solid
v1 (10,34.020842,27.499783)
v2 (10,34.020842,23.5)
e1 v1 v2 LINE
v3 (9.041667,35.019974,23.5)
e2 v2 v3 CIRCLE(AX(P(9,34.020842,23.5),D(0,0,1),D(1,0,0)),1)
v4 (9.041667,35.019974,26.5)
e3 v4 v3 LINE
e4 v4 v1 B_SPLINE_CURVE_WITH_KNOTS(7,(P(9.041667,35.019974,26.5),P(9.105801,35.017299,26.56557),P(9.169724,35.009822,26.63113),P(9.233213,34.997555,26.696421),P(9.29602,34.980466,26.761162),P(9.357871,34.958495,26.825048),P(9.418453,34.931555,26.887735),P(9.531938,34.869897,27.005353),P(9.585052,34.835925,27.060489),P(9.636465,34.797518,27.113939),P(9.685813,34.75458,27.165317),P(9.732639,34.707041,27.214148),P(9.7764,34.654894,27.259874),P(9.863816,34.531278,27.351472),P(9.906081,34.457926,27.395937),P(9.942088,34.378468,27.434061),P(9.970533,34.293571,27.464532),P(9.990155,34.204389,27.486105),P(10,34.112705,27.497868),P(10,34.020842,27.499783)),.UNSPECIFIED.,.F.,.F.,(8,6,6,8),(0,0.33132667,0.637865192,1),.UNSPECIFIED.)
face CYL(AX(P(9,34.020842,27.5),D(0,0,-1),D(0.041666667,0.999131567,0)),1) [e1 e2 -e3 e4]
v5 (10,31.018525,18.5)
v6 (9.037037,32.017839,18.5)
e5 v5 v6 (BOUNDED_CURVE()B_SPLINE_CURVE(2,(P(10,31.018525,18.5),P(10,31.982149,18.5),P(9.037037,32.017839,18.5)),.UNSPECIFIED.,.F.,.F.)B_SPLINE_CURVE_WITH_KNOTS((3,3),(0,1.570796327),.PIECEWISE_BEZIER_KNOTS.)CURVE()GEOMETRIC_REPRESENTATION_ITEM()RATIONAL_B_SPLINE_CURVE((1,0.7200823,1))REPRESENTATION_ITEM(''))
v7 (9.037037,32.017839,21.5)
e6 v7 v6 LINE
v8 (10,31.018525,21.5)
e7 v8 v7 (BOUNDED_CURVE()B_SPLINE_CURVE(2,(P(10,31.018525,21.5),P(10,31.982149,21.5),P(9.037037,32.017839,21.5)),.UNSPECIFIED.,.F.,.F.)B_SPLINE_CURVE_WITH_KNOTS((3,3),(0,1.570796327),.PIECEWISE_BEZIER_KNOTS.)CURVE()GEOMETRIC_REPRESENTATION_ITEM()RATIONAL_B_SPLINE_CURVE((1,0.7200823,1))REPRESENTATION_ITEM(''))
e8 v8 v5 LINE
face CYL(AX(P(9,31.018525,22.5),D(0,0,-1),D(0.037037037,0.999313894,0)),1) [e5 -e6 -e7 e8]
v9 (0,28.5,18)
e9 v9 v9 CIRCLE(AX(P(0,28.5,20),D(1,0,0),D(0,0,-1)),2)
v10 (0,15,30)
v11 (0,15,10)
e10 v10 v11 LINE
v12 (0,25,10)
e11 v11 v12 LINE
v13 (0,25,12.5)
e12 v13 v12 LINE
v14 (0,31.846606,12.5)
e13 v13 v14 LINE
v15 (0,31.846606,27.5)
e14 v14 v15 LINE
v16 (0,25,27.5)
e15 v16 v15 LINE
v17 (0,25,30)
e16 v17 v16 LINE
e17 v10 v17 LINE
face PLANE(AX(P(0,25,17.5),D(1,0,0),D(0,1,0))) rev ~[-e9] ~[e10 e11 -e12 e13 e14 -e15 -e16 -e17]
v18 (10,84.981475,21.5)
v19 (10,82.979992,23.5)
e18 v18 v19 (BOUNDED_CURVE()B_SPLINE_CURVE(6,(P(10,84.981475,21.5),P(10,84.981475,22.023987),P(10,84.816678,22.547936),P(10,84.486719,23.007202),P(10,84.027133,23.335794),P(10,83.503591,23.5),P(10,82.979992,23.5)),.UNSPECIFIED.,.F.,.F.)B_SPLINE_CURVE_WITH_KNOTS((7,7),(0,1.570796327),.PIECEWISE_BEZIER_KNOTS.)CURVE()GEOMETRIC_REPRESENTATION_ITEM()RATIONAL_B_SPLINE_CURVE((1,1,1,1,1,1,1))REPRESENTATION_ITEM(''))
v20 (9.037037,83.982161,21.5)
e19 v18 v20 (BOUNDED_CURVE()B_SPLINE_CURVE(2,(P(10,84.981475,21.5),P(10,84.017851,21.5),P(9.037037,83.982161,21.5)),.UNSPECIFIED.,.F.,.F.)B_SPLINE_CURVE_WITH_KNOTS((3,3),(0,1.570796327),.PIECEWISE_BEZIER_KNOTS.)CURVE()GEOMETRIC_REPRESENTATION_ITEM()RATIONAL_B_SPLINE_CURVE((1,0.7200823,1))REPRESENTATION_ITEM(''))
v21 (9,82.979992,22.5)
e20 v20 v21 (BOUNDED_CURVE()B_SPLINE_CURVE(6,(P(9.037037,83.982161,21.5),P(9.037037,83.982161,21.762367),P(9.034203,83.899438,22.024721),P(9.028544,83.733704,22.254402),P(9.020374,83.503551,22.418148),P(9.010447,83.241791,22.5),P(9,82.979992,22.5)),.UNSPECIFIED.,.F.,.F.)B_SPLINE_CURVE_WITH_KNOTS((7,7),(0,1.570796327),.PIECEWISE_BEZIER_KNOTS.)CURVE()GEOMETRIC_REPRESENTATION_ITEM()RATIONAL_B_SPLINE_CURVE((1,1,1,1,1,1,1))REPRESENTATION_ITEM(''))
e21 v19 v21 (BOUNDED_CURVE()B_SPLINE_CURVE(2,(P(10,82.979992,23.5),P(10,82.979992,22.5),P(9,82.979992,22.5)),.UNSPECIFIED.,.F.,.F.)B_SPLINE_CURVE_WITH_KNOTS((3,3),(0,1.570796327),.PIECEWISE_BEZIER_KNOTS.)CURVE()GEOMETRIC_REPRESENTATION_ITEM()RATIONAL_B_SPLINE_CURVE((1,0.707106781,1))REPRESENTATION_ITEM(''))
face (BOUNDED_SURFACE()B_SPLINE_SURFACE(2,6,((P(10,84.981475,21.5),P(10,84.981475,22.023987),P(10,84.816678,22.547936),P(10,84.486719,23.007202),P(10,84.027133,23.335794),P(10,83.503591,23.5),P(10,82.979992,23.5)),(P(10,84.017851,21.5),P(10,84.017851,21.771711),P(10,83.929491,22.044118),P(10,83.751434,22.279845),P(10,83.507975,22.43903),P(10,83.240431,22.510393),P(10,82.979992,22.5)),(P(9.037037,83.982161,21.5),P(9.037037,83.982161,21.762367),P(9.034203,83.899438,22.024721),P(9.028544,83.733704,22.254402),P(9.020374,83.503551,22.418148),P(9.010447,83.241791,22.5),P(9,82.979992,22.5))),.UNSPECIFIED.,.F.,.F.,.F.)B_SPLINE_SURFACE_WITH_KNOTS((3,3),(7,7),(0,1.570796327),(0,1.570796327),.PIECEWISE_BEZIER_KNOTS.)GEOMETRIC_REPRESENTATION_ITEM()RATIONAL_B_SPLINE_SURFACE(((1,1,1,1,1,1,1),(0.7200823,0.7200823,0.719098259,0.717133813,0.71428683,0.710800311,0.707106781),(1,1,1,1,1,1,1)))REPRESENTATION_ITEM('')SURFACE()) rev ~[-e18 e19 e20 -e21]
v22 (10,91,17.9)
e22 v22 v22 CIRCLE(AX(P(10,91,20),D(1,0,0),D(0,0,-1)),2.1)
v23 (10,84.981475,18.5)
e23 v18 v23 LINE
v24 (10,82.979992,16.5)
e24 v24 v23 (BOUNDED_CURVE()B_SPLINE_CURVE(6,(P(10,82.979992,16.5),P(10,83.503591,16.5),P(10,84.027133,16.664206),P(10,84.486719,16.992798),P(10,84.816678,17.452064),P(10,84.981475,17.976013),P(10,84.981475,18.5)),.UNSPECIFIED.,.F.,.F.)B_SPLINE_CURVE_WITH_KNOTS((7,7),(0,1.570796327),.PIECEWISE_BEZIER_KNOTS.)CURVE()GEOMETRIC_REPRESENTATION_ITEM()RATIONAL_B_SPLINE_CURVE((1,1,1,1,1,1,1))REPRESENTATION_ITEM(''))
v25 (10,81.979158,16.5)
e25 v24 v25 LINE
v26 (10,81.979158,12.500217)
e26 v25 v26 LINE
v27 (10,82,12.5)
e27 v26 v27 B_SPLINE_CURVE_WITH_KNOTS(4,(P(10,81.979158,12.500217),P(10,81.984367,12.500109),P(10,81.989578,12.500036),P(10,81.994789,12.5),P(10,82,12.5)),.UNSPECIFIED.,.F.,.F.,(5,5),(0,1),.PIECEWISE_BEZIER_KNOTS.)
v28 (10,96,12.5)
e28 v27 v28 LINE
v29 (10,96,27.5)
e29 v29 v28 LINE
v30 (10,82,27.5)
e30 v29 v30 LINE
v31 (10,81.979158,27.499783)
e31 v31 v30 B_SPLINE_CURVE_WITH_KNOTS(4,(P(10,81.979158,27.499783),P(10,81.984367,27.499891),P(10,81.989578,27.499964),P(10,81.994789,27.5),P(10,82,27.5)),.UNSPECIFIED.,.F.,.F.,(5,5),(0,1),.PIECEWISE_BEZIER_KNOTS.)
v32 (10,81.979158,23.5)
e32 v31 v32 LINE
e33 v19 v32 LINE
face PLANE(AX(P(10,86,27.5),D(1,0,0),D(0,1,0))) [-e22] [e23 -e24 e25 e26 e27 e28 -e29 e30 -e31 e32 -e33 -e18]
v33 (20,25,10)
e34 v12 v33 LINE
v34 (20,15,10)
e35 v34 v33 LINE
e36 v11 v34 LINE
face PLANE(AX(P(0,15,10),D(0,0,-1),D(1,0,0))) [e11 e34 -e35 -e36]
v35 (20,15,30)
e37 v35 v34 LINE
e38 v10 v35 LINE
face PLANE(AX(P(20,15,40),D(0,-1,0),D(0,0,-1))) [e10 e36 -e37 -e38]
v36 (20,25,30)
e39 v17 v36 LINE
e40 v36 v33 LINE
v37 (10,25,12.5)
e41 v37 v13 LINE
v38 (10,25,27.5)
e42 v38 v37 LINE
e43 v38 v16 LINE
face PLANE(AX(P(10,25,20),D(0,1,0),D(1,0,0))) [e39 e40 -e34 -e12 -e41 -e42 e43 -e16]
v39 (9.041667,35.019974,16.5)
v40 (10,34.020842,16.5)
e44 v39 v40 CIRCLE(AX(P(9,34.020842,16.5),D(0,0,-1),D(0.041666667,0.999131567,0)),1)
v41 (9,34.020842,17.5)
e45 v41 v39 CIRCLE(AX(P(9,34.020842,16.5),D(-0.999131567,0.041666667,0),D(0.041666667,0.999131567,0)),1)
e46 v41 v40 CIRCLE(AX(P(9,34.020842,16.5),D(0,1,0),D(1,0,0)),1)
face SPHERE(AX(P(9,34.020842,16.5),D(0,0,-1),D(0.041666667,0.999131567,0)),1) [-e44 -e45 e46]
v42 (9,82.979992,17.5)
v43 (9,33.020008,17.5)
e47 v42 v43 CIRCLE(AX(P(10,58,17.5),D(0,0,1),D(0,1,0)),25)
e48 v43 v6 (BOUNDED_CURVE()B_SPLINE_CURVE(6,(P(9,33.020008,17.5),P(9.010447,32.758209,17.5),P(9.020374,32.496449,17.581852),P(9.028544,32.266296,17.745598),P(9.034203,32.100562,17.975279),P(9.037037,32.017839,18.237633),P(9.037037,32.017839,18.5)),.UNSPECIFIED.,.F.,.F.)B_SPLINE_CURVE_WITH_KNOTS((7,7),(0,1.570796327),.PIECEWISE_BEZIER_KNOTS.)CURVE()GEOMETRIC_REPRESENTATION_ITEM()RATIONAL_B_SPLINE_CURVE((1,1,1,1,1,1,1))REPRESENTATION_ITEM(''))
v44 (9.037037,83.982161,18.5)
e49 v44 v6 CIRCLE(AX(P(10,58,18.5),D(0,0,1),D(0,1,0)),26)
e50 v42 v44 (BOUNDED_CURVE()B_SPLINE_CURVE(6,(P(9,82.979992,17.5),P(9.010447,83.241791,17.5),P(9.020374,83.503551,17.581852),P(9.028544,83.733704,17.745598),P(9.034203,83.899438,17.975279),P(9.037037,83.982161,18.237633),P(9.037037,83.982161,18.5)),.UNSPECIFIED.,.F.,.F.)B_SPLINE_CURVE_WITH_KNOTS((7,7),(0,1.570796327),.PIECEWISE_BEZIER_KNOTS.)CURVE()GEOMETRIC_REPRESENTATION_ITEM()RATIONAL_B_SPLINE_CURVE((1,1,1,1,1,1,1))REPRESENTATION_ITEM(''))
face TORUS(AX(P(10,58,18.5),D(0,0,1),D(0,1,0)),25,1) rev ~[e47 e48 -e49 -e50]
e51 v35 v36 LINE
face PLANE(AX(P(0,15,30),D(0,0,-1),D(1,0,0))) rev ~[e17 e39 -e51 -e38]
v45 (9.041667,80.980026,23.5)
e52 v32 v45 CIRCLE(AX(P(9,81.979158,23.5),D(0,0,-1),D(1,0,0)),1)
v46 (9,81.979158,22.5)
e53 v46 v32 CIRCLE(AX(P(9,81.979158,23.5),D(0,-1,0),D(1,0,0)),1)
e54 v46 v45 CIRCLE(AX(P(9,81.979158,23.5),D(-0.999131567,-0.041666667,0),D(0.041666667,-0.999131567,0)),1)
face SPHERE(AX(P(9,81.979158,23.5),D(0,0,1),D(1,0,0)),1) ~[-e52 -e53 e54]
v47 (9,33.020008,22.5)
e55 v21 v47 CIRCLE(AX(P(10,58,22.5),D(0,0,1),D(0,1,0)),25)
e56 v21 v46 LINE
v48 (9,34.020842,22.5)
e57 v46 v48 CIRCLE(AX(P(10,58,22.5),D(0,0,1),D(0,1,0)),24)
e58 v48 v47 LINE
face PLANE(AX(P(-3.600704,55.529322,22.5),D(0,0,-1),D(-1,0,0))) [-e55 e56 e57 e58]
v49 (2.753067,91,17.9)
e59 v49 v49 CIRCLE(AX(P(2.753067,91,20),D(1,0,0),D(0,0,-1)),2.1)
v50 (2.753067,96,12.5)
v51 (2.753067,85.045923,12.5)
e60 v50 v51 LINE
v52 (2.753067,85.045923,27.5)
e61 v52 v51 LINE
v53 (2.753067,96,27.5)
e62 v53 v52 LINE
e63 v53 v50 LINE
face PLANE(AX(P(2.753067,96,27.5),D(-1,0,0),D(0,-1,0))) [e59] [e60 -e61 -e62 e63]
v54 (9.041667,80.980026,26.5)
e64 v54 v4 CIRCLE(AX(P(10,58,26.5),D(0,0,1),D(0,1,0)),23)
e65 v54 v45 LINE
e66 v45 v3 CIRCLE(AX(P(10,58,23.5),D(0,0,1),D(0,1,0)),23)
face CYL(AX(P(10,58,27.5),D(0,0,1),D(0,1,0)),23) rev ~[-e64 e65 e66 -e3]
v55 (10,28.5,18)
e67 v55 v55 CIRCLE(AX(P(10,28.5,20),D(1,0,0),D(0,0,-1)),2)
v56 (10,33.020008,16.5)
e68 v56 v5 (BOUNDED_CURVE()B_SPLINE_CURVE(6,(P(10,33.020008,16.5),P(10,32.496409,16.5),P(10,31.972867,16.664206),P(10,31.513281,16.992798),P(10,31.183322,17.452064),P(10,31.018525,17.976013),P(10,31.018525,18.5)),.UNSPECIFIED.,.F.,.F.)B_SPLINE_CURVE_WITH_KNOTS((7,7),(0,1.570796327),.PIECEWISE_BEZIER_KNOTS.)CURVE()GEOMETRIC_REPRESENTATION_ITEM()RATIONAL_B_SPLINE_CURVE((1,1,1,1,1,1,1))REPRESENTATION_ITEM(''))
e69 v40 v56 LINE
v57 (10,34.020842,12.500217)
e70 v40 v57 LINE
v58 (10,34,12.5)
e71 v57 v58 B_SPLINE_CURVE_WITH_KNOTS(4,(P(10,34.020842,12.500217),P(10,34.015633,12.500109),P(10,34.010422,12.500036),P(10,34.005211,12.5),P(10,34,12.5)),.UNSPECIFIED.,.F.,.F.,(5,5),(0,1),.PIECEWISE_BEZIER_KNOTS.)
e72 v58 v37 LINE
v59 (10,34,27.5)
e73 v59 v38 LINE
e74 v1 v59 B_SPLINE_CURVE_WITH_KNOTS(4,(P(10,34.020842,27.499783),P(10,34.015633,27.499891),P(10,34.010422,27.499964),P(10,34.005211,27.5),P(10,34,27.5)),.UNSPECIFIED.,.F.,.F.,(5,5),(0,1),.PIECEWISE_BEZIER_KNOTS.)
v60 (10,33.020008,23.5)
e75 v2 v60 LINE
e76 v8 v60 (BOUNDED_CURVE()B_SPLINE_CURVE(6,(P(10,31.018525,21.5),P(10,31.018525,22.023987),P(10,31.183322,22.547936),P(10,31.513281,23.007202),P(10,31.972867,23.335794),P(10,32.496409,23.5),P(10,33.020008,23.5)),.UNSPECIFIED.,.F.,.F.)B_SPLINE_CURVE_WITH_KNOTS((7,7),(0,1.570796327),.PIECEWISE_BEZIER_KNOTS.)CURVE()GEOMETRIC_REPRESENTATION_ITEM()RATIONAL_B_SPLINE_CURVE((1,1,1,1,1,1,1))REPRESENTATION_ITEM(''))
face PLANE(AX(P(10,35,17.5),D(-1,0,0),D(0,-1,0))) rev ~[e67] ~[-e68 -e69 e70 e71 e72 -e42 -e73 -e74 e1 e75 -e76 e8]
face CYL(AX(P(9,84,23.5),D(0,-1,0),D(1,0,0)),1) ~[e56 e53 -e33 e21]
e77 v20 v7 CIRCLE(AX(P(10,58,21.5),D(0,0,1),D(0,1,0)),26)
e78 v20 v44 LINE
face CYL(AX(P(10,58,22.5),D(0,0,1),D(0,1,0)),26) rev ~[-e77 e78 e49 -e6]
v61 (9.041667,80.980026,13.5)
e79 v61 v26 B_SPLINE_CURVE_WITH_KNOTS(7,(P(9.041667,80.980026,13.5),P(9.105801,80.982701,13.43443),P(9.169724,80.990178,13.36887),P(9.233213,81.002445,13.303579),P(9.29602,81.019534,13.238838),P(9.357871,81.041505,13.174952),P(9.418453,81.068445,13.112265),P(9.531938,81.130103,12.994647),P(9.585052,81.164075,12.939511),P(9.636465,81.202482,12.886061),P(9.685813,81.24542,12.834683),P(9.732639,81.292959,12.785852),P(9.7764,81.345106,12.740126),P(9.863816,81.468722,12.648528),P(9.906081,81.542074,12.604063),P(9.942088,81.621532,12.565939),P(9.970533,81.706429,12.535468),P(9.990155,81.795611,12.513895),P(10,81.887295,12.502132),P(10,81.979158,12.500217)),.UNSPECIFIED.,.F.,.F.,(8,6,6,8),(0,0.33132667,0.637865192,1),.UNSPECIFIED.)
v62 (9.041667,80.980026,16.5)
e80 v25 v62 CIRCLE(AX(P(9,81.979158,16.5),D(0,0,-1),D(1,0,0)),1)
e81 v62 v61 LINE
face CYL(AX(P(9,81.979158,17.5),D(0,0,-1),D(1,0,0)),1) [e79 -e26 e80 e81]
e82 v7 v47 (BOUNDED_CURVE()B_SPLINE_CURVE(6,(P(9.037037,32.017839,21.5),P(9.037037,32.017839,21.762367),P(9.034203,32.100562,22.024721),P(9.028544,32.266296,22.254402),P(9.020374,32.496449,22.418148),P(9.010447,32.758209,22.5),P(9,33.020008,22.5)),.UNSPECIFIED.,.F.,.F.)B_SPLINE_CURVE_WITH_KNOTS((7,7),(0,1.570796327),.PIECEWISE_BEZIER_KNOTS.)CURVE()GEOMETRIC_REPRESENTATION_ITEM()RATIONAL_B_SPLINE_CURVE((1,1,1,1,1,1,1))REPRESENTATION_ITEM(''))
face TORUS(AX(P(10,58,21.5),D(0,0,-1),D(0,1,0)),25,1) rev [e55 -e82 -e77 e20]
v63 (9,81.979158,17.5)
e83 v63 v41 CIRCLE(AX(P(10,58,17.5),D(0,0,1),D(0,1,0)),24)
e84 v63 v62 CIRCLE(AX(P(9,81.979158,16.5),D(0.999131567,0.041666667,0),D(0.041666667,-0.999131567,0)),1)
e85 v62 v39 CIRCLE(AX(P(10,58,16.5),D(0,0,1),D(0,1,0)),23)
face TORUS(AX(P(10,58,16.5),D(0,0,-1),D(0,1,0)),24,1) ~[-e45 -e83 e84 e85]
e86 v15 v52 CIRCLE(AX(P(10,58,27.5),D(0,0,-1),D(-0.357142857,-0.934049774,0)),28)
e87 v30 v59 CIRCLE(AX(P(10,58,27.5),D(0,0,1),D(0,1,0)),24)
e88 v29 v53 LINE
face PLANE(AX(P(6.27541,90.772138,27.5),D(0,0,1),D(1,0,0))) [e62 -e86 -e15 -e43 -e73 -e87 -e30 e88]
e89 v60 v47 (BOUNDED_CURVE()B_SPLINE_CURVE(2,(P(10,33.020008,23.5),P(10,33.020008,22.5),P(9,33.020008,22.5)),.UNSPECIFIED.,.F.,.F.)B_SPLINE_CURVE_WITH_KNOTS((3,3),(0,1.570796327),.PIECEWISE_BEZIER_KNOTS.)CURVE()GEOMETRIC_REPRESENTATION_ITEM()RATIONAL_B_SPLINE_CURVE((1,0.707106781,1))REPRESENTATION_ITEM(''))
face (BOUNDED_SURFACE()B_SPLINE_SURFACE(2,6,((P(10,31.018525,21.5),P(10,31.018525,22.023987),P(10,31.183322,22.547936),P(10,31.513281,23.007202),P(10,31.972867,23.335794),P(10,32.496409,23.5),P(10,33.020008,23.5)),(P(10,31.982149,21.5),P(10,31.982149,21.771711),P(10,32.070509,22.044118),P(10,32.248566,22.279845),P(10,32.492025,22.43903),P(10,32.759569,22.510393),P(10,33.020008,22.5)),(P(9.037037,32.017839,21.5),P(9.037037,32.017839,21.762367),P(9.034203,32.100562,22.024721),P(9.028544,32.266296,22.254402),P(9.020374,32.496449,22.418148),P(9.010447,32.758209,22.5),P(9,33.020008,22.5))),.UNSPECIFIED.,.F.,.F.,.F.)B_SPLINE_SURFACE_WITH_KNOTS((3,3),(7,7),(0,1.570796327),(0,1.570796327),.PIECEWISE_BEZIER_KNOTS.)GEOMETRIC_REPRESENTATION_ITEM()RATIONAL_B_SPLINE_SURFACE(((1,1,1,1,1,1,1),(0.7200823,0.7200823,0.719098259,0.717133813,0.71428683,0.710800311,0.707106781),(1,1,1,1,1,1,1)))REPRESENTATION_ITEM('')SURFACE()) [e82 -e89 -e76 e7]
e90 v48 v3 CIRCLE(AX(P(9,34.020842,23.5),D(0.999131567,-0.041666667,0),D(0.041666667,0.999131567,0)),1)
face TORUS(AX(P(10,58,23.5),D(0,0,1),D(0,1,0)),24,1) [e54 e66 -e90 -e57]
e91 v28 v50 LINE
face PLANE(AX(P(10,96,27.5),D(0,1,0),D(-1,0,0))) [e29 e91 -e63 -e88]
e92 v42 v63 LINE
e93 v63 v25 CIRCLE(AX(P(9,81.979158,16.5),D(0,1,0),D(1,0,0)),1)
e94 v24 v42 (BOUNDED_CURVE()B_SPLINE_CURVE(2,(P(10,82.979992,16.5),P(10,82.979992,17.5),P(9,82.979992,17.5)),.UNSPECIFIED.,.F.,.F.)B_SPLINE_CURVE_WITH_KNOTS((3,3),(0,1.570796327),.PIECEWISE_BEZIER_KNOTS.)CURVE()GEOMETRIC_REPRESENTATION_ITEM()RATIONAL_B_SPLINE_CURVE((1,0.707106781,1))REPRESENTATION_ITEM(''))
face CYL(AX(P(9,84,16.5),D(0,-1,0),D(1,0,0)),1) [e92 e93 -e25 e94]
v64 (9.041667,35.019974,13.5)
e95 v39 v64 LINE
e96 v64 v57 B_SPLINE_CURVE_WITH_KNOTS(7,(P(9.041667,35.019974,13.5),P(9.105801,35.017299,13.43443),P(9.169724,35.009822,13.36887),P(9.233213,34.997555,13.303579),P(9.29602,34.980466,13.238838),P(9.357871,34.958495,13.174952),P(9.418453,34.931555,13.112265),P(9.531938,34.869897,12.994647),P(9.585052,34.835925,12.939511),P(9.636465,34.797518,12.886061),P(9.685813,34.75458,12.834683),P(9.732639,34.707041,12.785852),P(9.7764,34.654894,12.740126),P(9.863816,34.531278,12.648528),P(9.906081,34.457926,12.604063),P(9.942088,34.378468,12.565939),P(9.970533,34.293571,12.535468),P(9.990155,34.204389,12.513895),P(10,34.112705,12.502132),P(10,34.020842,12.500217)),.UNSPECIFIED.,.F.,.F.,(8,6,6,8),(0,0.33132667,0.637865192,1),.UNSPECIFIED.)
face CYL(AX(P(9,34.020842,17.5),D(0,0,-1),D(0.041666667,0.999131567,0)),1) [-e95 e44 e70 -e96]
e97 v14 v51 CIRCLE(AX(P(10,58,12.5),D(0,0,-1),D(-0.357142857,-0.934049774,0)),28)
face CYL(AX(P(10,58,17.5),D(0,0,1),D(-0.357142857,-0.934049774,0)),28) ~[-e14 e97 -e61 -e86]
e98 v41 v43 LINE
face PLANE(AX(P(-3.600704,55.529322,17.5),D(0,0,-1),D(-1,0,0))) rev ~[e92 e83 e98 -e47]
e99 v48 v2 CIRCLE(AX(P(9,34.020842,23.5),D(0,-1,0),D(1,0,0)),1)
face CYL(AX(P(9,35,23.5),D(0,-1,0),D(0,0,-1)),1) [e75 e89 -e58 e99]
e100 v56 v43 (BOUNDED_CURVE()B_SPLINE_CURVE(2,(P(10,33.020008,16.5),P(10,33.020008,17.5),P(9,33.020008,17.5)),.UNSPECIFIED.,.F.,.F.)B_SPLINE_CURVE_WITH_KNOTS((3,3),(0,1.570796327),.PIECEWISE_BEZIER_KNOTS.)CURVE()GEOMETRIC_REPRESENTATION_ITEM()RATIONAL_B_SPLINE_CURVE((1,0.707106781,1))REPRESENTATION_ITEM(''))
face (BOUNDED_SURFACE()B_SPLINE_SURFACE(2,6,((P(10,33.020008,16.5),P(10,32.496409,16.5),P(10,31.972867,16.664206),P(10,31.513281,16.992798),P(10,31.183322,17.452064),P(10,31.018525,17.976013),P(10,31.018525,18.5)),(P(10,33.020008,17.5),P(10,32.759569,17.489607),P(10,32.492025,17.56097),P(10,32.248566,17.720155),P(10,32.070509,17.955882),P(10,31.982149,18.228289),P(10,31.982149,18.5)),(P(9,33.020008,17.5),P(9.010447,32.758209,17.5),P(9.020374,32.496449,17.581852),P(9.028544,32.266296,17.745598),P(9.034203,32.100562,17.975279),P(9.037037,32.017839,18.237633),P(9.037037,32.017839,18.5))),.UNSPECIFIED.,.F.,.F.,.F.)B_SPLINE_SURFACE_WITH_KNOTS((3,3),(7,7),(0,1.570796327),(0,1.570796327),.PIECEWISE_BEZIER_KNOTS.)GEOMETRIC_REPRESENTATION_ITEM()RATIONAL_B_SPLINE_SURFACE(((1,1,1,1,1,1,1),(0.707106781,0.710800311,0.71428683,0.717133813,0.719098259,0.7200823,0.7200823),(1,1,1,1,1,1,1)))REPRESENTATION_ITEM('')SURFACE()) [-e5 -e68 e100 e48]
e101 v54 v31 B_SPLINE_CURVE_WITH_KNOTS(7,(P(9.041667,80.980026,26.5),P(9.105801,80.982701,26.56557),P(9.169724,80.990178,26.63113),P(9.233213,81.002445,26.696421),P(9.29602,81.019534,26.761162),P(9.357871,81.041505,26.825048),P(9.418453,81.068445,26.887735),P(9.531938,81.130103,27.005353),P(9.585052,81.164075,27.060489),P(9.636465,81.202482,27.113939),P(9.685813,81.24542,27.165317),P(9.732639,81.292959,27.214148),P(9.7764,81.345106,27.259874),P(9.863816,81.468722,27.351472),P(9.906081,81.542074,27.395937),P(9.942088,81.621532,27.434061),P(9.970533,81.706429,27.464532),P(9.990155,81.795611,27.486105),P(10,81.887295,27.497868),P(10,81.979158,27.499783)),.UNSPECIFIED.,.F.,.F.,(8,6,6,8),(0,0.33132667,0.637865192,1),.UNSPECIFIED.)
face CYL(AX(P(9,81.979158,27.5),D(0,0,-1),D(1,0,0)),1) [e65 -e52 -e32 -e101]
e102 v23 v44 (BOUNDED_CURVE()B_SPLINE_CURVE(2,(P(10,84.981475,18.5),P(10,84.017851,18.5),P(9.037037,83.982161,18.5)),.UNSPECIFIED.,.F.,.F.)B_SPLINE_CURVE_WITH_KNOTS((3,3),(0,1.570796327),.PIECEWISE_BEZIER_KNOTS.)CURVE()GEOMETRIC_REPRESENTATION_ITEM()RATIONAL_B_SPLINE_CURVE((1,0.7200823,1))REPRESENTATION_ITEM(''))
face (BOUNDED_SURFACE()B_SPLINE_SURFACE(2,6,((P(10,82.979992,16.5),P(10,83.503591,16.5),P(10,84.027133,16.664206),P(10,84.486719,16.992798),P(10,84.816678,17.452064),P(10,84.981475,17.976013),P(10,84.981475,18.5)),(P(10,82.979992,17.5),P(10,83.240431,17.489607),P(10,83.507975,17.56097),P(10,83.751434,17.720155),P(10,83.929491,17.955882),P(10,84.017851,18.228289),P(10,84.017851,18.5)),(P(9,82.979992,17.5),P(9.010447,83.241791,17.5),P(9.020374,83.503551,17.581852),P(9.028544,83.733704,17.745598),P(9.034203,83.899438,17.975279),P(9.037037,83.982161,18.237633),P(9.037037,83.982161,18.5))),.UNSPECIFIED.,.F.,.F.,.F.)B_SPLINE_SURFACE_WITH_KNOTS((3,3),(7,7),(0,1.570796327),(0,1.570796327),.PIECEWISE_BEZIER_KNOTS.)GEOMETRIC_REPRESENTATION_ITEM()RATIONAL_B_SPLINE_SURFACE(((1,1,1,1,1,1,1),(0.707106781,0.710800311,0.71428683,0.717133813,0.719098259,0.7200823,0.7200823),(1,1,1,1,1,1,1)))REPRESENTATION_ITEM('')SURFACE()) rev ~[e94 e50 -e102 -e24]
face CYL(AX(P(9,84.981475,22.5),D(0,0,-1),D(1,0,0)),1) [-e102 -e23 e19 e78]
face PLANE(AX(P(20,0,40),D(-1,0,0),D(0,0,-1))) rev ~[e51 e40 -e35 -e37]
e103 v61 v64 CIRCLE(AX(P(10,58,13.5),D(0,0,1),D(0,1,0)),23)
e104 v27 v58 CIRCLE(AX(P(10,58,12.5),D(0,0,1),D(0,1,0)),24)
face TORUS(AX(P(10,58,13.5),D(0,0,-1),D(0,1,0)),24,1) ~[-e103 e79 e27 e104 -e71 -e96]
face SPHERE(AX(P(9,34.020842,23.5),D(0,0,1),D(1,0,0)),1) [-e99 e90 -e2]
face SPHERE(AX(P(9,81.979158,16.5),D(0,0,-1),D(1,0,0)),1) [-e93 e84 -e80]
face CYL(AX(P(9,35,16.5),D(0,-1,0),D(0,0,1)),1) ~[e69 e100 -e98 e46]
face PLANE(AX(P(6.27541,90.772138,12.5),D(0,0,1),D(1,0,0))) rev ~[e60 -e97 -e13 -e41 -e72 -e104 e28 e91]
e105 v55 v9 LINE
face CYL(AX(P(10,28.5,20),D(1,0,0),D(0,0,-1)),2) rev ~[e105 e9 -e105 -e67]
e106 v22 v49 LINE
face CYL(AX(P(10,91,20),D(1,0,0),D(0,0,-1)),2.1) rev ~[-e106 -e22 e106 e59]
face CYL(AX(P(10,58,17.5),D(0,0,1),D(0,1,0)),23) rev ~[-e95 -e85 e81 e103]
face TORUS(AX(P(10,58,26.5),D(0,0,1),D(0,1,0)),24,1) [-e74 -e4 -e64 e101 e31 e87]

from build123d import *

# Parameters (mm, degrees)
SKETCH1_W           = 20
SKETCH1_H           = 40
BOSS_EXTRUDE1_DEPTH = 15
SKETCH2_W           = 20
SKETCH2_H           = 20
BOSS_EXTRUDE2_DEPTH = 10
BOSS_EXTRUDE3_DEPTH = 5
BOSS_EXTRUDE4_DEPTH = 5
BOSS_EXTRUDE5_DEPTH = 5
BOSS_EXTRUDE6_DEPTH = 15
SKETCH7_R           = 2.1
SKETCH7_R_2         = 2
CUT_EXTRUDE1_DEPTH  = 108.703296143
FILLET5_R           = 1
SKETCH9_W           = 40
SKETCH9_H           = 15
CUT_EXTRUDE2_DEPTH  = 20


with BuildPart() as part:
    # Sketch1 → Boss-Extrude1 (new body)
    with BuildSketch(Plane(origin=(0, 0, 0), x_dir=(1, 0, 0), z_dir=(0, 1, 0))):
        with Locations((10, -20)):
            Rectangle(SKETCH1_W, SKETCH1_H)
    extrude(amount=BOSS_EXTRUDE1_DEPTH)

    # Sketch2 → Boss-Extrude2 (add)
    with BuildSketch(Plane(origin=(0, 15, 0), x_dir=(1, 0, 0), z_dir=(0, 1, 0))):
        with Locations((10, -20)):
            Rectangle(SKETCH2_W, SKETCH2_H)
    extrude(amount=BOSS_EXTRUDE2_DEPTH)

    # Sketch3 → Boss-Extrude3 (add)
    with BuildSketch(Plane.XY.offset(27.5)):
        with BuildLine():
            Line((10, 35), (10, 25))
            Line((10, 25), (0, 25))
            Line((0, 25), (0, 31.846606339))
            ThreePointArc((0, 31.846606339), (-17.534478591, 63.08453427), (10, 86))
            Line((10, 86), (10, 81))
            ThreePointArc((10, 81), (-13, 58), (10, 35))
        make_face()
    extrude(amount=-BOSS_EXTRUDE3_DEPTH)

    # Sketch4 → Boss-Extrude4 (add)
    with BuildSketch(Plane(origin=(0, 0, 22.5), x_dir=(-1, 0, 0), z_dir=(0, 0, -1))):
        with BuildLine():
            Line((-10, 86), (-10, 84))
            ThreePointArc((-10, 84), (16, 58), (-10, 32))
            Line((-10, 32), (-10, 30))
            Line((-10, 30), (-10, 25))
            Line((-10, 25), (0, 25))
            Line((0, 25), (0, 31.846606339))
            ThreePointArc((0, 31.846606339), (17.534478591, 63.08453427), (-10, 86))
        make_face()
    extrude(amount=BOSS_EXTRUDE4_DEPTH)

    # Sketch5 → Boss-Extrude5 (add)
    with BuildSketch(Plane(origin=(0, 0, 17.5), x_dir=(-1, 0, 0), z_dir=(0, 0, -1))):
        with BuildLine():
            Line((-10, 86), (-10, 81))
            ThreePointArc((-10, 81), (13, 58), (-10, 35))
            Line((-10, 35), (-10, 30))
            Line((-10, 30), (-10, 25))
            Line((-10, 25), (0, 25))
            Line((0, 25), (0, 31.846606339))
            ThreePointArc((0, 31.846606339), (17.534478591, 63.08453427), (-10, 86))
        make_face()
    extrude(amount=BOSS_EXTRUDE5_DEPTH)

    # Sketch6 → Boss-Extrude6 (add)
    with BuildSketch(Plane.XY.offset(27.5)):
        with BuildLine():
            Line((10, 86), (10, 96))
            Line((10, 96), (2.753066737, 96))
            Line((2.753066737, 96), (2.753066737, 85.045923136))
            ThreePointArc((2.753066737, 85.045923136), (6.345266618, 85.760456118), (10, 86))
        make_face()
    extrude(amount=-BOSS_EXTRUDE6_DEPTH)

    # Sketch7 → Cut-Extrude1 (cut, through all)
    with BuildSketch(Plane(origin=(10, 0, 0), x_dir=(0, 0, -1), z_dir=(1, 0, 0))):
        with Locations((-20, 91)):
            Circle(SKETCH7_R)
        with Locations((-20, 28.5)):
            Circle(SKETCH7_R_2)
    extrude(amount=-CUT_EXTRUDE1_DEPTH, mode=Mode.SUBTRACT)

    # Fillet5
    fillet5_edges = [part.edges().sort_by_distance(p)[0] for p in [
        (10, 82.5, 22.5),
        (-13, 58, 22.5),
        (10, 81, 25),
        (10, 35, 25),
        (-13, 58, 27.5),
        (10, 33.5, 22.5),
        (-16, 58, 22.5),
        (10, 84, 20),
        (10, 32, 20),
        (-16, 58, 17.5),
        (10, 82.5, 17.5),
        (-13, 58, 17.5),
        (10, 81, 15),
        (10, 33.5, 17.5),
        (10, 35, 15),
        (-13, 58, 12.5),
    ]]
    fillet(fillet5_edges, radius=FILLET5_R)

    # Sketch9 → Cut-Extrude2 (cut)
    with BuildSketch(Plane(origin=(20, 0, 0), x_dir=(0, 0, -1), z_dir=(1, 0, 0))):
        with Locations((-20, 7.5)):
            Rectangle(SKETCH9_W, SKETCH9_H)
    extrude(amount=-CUT_EXTRUDE2_DEPTH, mode=Mode.SUBTRACT)


solid = part.part
